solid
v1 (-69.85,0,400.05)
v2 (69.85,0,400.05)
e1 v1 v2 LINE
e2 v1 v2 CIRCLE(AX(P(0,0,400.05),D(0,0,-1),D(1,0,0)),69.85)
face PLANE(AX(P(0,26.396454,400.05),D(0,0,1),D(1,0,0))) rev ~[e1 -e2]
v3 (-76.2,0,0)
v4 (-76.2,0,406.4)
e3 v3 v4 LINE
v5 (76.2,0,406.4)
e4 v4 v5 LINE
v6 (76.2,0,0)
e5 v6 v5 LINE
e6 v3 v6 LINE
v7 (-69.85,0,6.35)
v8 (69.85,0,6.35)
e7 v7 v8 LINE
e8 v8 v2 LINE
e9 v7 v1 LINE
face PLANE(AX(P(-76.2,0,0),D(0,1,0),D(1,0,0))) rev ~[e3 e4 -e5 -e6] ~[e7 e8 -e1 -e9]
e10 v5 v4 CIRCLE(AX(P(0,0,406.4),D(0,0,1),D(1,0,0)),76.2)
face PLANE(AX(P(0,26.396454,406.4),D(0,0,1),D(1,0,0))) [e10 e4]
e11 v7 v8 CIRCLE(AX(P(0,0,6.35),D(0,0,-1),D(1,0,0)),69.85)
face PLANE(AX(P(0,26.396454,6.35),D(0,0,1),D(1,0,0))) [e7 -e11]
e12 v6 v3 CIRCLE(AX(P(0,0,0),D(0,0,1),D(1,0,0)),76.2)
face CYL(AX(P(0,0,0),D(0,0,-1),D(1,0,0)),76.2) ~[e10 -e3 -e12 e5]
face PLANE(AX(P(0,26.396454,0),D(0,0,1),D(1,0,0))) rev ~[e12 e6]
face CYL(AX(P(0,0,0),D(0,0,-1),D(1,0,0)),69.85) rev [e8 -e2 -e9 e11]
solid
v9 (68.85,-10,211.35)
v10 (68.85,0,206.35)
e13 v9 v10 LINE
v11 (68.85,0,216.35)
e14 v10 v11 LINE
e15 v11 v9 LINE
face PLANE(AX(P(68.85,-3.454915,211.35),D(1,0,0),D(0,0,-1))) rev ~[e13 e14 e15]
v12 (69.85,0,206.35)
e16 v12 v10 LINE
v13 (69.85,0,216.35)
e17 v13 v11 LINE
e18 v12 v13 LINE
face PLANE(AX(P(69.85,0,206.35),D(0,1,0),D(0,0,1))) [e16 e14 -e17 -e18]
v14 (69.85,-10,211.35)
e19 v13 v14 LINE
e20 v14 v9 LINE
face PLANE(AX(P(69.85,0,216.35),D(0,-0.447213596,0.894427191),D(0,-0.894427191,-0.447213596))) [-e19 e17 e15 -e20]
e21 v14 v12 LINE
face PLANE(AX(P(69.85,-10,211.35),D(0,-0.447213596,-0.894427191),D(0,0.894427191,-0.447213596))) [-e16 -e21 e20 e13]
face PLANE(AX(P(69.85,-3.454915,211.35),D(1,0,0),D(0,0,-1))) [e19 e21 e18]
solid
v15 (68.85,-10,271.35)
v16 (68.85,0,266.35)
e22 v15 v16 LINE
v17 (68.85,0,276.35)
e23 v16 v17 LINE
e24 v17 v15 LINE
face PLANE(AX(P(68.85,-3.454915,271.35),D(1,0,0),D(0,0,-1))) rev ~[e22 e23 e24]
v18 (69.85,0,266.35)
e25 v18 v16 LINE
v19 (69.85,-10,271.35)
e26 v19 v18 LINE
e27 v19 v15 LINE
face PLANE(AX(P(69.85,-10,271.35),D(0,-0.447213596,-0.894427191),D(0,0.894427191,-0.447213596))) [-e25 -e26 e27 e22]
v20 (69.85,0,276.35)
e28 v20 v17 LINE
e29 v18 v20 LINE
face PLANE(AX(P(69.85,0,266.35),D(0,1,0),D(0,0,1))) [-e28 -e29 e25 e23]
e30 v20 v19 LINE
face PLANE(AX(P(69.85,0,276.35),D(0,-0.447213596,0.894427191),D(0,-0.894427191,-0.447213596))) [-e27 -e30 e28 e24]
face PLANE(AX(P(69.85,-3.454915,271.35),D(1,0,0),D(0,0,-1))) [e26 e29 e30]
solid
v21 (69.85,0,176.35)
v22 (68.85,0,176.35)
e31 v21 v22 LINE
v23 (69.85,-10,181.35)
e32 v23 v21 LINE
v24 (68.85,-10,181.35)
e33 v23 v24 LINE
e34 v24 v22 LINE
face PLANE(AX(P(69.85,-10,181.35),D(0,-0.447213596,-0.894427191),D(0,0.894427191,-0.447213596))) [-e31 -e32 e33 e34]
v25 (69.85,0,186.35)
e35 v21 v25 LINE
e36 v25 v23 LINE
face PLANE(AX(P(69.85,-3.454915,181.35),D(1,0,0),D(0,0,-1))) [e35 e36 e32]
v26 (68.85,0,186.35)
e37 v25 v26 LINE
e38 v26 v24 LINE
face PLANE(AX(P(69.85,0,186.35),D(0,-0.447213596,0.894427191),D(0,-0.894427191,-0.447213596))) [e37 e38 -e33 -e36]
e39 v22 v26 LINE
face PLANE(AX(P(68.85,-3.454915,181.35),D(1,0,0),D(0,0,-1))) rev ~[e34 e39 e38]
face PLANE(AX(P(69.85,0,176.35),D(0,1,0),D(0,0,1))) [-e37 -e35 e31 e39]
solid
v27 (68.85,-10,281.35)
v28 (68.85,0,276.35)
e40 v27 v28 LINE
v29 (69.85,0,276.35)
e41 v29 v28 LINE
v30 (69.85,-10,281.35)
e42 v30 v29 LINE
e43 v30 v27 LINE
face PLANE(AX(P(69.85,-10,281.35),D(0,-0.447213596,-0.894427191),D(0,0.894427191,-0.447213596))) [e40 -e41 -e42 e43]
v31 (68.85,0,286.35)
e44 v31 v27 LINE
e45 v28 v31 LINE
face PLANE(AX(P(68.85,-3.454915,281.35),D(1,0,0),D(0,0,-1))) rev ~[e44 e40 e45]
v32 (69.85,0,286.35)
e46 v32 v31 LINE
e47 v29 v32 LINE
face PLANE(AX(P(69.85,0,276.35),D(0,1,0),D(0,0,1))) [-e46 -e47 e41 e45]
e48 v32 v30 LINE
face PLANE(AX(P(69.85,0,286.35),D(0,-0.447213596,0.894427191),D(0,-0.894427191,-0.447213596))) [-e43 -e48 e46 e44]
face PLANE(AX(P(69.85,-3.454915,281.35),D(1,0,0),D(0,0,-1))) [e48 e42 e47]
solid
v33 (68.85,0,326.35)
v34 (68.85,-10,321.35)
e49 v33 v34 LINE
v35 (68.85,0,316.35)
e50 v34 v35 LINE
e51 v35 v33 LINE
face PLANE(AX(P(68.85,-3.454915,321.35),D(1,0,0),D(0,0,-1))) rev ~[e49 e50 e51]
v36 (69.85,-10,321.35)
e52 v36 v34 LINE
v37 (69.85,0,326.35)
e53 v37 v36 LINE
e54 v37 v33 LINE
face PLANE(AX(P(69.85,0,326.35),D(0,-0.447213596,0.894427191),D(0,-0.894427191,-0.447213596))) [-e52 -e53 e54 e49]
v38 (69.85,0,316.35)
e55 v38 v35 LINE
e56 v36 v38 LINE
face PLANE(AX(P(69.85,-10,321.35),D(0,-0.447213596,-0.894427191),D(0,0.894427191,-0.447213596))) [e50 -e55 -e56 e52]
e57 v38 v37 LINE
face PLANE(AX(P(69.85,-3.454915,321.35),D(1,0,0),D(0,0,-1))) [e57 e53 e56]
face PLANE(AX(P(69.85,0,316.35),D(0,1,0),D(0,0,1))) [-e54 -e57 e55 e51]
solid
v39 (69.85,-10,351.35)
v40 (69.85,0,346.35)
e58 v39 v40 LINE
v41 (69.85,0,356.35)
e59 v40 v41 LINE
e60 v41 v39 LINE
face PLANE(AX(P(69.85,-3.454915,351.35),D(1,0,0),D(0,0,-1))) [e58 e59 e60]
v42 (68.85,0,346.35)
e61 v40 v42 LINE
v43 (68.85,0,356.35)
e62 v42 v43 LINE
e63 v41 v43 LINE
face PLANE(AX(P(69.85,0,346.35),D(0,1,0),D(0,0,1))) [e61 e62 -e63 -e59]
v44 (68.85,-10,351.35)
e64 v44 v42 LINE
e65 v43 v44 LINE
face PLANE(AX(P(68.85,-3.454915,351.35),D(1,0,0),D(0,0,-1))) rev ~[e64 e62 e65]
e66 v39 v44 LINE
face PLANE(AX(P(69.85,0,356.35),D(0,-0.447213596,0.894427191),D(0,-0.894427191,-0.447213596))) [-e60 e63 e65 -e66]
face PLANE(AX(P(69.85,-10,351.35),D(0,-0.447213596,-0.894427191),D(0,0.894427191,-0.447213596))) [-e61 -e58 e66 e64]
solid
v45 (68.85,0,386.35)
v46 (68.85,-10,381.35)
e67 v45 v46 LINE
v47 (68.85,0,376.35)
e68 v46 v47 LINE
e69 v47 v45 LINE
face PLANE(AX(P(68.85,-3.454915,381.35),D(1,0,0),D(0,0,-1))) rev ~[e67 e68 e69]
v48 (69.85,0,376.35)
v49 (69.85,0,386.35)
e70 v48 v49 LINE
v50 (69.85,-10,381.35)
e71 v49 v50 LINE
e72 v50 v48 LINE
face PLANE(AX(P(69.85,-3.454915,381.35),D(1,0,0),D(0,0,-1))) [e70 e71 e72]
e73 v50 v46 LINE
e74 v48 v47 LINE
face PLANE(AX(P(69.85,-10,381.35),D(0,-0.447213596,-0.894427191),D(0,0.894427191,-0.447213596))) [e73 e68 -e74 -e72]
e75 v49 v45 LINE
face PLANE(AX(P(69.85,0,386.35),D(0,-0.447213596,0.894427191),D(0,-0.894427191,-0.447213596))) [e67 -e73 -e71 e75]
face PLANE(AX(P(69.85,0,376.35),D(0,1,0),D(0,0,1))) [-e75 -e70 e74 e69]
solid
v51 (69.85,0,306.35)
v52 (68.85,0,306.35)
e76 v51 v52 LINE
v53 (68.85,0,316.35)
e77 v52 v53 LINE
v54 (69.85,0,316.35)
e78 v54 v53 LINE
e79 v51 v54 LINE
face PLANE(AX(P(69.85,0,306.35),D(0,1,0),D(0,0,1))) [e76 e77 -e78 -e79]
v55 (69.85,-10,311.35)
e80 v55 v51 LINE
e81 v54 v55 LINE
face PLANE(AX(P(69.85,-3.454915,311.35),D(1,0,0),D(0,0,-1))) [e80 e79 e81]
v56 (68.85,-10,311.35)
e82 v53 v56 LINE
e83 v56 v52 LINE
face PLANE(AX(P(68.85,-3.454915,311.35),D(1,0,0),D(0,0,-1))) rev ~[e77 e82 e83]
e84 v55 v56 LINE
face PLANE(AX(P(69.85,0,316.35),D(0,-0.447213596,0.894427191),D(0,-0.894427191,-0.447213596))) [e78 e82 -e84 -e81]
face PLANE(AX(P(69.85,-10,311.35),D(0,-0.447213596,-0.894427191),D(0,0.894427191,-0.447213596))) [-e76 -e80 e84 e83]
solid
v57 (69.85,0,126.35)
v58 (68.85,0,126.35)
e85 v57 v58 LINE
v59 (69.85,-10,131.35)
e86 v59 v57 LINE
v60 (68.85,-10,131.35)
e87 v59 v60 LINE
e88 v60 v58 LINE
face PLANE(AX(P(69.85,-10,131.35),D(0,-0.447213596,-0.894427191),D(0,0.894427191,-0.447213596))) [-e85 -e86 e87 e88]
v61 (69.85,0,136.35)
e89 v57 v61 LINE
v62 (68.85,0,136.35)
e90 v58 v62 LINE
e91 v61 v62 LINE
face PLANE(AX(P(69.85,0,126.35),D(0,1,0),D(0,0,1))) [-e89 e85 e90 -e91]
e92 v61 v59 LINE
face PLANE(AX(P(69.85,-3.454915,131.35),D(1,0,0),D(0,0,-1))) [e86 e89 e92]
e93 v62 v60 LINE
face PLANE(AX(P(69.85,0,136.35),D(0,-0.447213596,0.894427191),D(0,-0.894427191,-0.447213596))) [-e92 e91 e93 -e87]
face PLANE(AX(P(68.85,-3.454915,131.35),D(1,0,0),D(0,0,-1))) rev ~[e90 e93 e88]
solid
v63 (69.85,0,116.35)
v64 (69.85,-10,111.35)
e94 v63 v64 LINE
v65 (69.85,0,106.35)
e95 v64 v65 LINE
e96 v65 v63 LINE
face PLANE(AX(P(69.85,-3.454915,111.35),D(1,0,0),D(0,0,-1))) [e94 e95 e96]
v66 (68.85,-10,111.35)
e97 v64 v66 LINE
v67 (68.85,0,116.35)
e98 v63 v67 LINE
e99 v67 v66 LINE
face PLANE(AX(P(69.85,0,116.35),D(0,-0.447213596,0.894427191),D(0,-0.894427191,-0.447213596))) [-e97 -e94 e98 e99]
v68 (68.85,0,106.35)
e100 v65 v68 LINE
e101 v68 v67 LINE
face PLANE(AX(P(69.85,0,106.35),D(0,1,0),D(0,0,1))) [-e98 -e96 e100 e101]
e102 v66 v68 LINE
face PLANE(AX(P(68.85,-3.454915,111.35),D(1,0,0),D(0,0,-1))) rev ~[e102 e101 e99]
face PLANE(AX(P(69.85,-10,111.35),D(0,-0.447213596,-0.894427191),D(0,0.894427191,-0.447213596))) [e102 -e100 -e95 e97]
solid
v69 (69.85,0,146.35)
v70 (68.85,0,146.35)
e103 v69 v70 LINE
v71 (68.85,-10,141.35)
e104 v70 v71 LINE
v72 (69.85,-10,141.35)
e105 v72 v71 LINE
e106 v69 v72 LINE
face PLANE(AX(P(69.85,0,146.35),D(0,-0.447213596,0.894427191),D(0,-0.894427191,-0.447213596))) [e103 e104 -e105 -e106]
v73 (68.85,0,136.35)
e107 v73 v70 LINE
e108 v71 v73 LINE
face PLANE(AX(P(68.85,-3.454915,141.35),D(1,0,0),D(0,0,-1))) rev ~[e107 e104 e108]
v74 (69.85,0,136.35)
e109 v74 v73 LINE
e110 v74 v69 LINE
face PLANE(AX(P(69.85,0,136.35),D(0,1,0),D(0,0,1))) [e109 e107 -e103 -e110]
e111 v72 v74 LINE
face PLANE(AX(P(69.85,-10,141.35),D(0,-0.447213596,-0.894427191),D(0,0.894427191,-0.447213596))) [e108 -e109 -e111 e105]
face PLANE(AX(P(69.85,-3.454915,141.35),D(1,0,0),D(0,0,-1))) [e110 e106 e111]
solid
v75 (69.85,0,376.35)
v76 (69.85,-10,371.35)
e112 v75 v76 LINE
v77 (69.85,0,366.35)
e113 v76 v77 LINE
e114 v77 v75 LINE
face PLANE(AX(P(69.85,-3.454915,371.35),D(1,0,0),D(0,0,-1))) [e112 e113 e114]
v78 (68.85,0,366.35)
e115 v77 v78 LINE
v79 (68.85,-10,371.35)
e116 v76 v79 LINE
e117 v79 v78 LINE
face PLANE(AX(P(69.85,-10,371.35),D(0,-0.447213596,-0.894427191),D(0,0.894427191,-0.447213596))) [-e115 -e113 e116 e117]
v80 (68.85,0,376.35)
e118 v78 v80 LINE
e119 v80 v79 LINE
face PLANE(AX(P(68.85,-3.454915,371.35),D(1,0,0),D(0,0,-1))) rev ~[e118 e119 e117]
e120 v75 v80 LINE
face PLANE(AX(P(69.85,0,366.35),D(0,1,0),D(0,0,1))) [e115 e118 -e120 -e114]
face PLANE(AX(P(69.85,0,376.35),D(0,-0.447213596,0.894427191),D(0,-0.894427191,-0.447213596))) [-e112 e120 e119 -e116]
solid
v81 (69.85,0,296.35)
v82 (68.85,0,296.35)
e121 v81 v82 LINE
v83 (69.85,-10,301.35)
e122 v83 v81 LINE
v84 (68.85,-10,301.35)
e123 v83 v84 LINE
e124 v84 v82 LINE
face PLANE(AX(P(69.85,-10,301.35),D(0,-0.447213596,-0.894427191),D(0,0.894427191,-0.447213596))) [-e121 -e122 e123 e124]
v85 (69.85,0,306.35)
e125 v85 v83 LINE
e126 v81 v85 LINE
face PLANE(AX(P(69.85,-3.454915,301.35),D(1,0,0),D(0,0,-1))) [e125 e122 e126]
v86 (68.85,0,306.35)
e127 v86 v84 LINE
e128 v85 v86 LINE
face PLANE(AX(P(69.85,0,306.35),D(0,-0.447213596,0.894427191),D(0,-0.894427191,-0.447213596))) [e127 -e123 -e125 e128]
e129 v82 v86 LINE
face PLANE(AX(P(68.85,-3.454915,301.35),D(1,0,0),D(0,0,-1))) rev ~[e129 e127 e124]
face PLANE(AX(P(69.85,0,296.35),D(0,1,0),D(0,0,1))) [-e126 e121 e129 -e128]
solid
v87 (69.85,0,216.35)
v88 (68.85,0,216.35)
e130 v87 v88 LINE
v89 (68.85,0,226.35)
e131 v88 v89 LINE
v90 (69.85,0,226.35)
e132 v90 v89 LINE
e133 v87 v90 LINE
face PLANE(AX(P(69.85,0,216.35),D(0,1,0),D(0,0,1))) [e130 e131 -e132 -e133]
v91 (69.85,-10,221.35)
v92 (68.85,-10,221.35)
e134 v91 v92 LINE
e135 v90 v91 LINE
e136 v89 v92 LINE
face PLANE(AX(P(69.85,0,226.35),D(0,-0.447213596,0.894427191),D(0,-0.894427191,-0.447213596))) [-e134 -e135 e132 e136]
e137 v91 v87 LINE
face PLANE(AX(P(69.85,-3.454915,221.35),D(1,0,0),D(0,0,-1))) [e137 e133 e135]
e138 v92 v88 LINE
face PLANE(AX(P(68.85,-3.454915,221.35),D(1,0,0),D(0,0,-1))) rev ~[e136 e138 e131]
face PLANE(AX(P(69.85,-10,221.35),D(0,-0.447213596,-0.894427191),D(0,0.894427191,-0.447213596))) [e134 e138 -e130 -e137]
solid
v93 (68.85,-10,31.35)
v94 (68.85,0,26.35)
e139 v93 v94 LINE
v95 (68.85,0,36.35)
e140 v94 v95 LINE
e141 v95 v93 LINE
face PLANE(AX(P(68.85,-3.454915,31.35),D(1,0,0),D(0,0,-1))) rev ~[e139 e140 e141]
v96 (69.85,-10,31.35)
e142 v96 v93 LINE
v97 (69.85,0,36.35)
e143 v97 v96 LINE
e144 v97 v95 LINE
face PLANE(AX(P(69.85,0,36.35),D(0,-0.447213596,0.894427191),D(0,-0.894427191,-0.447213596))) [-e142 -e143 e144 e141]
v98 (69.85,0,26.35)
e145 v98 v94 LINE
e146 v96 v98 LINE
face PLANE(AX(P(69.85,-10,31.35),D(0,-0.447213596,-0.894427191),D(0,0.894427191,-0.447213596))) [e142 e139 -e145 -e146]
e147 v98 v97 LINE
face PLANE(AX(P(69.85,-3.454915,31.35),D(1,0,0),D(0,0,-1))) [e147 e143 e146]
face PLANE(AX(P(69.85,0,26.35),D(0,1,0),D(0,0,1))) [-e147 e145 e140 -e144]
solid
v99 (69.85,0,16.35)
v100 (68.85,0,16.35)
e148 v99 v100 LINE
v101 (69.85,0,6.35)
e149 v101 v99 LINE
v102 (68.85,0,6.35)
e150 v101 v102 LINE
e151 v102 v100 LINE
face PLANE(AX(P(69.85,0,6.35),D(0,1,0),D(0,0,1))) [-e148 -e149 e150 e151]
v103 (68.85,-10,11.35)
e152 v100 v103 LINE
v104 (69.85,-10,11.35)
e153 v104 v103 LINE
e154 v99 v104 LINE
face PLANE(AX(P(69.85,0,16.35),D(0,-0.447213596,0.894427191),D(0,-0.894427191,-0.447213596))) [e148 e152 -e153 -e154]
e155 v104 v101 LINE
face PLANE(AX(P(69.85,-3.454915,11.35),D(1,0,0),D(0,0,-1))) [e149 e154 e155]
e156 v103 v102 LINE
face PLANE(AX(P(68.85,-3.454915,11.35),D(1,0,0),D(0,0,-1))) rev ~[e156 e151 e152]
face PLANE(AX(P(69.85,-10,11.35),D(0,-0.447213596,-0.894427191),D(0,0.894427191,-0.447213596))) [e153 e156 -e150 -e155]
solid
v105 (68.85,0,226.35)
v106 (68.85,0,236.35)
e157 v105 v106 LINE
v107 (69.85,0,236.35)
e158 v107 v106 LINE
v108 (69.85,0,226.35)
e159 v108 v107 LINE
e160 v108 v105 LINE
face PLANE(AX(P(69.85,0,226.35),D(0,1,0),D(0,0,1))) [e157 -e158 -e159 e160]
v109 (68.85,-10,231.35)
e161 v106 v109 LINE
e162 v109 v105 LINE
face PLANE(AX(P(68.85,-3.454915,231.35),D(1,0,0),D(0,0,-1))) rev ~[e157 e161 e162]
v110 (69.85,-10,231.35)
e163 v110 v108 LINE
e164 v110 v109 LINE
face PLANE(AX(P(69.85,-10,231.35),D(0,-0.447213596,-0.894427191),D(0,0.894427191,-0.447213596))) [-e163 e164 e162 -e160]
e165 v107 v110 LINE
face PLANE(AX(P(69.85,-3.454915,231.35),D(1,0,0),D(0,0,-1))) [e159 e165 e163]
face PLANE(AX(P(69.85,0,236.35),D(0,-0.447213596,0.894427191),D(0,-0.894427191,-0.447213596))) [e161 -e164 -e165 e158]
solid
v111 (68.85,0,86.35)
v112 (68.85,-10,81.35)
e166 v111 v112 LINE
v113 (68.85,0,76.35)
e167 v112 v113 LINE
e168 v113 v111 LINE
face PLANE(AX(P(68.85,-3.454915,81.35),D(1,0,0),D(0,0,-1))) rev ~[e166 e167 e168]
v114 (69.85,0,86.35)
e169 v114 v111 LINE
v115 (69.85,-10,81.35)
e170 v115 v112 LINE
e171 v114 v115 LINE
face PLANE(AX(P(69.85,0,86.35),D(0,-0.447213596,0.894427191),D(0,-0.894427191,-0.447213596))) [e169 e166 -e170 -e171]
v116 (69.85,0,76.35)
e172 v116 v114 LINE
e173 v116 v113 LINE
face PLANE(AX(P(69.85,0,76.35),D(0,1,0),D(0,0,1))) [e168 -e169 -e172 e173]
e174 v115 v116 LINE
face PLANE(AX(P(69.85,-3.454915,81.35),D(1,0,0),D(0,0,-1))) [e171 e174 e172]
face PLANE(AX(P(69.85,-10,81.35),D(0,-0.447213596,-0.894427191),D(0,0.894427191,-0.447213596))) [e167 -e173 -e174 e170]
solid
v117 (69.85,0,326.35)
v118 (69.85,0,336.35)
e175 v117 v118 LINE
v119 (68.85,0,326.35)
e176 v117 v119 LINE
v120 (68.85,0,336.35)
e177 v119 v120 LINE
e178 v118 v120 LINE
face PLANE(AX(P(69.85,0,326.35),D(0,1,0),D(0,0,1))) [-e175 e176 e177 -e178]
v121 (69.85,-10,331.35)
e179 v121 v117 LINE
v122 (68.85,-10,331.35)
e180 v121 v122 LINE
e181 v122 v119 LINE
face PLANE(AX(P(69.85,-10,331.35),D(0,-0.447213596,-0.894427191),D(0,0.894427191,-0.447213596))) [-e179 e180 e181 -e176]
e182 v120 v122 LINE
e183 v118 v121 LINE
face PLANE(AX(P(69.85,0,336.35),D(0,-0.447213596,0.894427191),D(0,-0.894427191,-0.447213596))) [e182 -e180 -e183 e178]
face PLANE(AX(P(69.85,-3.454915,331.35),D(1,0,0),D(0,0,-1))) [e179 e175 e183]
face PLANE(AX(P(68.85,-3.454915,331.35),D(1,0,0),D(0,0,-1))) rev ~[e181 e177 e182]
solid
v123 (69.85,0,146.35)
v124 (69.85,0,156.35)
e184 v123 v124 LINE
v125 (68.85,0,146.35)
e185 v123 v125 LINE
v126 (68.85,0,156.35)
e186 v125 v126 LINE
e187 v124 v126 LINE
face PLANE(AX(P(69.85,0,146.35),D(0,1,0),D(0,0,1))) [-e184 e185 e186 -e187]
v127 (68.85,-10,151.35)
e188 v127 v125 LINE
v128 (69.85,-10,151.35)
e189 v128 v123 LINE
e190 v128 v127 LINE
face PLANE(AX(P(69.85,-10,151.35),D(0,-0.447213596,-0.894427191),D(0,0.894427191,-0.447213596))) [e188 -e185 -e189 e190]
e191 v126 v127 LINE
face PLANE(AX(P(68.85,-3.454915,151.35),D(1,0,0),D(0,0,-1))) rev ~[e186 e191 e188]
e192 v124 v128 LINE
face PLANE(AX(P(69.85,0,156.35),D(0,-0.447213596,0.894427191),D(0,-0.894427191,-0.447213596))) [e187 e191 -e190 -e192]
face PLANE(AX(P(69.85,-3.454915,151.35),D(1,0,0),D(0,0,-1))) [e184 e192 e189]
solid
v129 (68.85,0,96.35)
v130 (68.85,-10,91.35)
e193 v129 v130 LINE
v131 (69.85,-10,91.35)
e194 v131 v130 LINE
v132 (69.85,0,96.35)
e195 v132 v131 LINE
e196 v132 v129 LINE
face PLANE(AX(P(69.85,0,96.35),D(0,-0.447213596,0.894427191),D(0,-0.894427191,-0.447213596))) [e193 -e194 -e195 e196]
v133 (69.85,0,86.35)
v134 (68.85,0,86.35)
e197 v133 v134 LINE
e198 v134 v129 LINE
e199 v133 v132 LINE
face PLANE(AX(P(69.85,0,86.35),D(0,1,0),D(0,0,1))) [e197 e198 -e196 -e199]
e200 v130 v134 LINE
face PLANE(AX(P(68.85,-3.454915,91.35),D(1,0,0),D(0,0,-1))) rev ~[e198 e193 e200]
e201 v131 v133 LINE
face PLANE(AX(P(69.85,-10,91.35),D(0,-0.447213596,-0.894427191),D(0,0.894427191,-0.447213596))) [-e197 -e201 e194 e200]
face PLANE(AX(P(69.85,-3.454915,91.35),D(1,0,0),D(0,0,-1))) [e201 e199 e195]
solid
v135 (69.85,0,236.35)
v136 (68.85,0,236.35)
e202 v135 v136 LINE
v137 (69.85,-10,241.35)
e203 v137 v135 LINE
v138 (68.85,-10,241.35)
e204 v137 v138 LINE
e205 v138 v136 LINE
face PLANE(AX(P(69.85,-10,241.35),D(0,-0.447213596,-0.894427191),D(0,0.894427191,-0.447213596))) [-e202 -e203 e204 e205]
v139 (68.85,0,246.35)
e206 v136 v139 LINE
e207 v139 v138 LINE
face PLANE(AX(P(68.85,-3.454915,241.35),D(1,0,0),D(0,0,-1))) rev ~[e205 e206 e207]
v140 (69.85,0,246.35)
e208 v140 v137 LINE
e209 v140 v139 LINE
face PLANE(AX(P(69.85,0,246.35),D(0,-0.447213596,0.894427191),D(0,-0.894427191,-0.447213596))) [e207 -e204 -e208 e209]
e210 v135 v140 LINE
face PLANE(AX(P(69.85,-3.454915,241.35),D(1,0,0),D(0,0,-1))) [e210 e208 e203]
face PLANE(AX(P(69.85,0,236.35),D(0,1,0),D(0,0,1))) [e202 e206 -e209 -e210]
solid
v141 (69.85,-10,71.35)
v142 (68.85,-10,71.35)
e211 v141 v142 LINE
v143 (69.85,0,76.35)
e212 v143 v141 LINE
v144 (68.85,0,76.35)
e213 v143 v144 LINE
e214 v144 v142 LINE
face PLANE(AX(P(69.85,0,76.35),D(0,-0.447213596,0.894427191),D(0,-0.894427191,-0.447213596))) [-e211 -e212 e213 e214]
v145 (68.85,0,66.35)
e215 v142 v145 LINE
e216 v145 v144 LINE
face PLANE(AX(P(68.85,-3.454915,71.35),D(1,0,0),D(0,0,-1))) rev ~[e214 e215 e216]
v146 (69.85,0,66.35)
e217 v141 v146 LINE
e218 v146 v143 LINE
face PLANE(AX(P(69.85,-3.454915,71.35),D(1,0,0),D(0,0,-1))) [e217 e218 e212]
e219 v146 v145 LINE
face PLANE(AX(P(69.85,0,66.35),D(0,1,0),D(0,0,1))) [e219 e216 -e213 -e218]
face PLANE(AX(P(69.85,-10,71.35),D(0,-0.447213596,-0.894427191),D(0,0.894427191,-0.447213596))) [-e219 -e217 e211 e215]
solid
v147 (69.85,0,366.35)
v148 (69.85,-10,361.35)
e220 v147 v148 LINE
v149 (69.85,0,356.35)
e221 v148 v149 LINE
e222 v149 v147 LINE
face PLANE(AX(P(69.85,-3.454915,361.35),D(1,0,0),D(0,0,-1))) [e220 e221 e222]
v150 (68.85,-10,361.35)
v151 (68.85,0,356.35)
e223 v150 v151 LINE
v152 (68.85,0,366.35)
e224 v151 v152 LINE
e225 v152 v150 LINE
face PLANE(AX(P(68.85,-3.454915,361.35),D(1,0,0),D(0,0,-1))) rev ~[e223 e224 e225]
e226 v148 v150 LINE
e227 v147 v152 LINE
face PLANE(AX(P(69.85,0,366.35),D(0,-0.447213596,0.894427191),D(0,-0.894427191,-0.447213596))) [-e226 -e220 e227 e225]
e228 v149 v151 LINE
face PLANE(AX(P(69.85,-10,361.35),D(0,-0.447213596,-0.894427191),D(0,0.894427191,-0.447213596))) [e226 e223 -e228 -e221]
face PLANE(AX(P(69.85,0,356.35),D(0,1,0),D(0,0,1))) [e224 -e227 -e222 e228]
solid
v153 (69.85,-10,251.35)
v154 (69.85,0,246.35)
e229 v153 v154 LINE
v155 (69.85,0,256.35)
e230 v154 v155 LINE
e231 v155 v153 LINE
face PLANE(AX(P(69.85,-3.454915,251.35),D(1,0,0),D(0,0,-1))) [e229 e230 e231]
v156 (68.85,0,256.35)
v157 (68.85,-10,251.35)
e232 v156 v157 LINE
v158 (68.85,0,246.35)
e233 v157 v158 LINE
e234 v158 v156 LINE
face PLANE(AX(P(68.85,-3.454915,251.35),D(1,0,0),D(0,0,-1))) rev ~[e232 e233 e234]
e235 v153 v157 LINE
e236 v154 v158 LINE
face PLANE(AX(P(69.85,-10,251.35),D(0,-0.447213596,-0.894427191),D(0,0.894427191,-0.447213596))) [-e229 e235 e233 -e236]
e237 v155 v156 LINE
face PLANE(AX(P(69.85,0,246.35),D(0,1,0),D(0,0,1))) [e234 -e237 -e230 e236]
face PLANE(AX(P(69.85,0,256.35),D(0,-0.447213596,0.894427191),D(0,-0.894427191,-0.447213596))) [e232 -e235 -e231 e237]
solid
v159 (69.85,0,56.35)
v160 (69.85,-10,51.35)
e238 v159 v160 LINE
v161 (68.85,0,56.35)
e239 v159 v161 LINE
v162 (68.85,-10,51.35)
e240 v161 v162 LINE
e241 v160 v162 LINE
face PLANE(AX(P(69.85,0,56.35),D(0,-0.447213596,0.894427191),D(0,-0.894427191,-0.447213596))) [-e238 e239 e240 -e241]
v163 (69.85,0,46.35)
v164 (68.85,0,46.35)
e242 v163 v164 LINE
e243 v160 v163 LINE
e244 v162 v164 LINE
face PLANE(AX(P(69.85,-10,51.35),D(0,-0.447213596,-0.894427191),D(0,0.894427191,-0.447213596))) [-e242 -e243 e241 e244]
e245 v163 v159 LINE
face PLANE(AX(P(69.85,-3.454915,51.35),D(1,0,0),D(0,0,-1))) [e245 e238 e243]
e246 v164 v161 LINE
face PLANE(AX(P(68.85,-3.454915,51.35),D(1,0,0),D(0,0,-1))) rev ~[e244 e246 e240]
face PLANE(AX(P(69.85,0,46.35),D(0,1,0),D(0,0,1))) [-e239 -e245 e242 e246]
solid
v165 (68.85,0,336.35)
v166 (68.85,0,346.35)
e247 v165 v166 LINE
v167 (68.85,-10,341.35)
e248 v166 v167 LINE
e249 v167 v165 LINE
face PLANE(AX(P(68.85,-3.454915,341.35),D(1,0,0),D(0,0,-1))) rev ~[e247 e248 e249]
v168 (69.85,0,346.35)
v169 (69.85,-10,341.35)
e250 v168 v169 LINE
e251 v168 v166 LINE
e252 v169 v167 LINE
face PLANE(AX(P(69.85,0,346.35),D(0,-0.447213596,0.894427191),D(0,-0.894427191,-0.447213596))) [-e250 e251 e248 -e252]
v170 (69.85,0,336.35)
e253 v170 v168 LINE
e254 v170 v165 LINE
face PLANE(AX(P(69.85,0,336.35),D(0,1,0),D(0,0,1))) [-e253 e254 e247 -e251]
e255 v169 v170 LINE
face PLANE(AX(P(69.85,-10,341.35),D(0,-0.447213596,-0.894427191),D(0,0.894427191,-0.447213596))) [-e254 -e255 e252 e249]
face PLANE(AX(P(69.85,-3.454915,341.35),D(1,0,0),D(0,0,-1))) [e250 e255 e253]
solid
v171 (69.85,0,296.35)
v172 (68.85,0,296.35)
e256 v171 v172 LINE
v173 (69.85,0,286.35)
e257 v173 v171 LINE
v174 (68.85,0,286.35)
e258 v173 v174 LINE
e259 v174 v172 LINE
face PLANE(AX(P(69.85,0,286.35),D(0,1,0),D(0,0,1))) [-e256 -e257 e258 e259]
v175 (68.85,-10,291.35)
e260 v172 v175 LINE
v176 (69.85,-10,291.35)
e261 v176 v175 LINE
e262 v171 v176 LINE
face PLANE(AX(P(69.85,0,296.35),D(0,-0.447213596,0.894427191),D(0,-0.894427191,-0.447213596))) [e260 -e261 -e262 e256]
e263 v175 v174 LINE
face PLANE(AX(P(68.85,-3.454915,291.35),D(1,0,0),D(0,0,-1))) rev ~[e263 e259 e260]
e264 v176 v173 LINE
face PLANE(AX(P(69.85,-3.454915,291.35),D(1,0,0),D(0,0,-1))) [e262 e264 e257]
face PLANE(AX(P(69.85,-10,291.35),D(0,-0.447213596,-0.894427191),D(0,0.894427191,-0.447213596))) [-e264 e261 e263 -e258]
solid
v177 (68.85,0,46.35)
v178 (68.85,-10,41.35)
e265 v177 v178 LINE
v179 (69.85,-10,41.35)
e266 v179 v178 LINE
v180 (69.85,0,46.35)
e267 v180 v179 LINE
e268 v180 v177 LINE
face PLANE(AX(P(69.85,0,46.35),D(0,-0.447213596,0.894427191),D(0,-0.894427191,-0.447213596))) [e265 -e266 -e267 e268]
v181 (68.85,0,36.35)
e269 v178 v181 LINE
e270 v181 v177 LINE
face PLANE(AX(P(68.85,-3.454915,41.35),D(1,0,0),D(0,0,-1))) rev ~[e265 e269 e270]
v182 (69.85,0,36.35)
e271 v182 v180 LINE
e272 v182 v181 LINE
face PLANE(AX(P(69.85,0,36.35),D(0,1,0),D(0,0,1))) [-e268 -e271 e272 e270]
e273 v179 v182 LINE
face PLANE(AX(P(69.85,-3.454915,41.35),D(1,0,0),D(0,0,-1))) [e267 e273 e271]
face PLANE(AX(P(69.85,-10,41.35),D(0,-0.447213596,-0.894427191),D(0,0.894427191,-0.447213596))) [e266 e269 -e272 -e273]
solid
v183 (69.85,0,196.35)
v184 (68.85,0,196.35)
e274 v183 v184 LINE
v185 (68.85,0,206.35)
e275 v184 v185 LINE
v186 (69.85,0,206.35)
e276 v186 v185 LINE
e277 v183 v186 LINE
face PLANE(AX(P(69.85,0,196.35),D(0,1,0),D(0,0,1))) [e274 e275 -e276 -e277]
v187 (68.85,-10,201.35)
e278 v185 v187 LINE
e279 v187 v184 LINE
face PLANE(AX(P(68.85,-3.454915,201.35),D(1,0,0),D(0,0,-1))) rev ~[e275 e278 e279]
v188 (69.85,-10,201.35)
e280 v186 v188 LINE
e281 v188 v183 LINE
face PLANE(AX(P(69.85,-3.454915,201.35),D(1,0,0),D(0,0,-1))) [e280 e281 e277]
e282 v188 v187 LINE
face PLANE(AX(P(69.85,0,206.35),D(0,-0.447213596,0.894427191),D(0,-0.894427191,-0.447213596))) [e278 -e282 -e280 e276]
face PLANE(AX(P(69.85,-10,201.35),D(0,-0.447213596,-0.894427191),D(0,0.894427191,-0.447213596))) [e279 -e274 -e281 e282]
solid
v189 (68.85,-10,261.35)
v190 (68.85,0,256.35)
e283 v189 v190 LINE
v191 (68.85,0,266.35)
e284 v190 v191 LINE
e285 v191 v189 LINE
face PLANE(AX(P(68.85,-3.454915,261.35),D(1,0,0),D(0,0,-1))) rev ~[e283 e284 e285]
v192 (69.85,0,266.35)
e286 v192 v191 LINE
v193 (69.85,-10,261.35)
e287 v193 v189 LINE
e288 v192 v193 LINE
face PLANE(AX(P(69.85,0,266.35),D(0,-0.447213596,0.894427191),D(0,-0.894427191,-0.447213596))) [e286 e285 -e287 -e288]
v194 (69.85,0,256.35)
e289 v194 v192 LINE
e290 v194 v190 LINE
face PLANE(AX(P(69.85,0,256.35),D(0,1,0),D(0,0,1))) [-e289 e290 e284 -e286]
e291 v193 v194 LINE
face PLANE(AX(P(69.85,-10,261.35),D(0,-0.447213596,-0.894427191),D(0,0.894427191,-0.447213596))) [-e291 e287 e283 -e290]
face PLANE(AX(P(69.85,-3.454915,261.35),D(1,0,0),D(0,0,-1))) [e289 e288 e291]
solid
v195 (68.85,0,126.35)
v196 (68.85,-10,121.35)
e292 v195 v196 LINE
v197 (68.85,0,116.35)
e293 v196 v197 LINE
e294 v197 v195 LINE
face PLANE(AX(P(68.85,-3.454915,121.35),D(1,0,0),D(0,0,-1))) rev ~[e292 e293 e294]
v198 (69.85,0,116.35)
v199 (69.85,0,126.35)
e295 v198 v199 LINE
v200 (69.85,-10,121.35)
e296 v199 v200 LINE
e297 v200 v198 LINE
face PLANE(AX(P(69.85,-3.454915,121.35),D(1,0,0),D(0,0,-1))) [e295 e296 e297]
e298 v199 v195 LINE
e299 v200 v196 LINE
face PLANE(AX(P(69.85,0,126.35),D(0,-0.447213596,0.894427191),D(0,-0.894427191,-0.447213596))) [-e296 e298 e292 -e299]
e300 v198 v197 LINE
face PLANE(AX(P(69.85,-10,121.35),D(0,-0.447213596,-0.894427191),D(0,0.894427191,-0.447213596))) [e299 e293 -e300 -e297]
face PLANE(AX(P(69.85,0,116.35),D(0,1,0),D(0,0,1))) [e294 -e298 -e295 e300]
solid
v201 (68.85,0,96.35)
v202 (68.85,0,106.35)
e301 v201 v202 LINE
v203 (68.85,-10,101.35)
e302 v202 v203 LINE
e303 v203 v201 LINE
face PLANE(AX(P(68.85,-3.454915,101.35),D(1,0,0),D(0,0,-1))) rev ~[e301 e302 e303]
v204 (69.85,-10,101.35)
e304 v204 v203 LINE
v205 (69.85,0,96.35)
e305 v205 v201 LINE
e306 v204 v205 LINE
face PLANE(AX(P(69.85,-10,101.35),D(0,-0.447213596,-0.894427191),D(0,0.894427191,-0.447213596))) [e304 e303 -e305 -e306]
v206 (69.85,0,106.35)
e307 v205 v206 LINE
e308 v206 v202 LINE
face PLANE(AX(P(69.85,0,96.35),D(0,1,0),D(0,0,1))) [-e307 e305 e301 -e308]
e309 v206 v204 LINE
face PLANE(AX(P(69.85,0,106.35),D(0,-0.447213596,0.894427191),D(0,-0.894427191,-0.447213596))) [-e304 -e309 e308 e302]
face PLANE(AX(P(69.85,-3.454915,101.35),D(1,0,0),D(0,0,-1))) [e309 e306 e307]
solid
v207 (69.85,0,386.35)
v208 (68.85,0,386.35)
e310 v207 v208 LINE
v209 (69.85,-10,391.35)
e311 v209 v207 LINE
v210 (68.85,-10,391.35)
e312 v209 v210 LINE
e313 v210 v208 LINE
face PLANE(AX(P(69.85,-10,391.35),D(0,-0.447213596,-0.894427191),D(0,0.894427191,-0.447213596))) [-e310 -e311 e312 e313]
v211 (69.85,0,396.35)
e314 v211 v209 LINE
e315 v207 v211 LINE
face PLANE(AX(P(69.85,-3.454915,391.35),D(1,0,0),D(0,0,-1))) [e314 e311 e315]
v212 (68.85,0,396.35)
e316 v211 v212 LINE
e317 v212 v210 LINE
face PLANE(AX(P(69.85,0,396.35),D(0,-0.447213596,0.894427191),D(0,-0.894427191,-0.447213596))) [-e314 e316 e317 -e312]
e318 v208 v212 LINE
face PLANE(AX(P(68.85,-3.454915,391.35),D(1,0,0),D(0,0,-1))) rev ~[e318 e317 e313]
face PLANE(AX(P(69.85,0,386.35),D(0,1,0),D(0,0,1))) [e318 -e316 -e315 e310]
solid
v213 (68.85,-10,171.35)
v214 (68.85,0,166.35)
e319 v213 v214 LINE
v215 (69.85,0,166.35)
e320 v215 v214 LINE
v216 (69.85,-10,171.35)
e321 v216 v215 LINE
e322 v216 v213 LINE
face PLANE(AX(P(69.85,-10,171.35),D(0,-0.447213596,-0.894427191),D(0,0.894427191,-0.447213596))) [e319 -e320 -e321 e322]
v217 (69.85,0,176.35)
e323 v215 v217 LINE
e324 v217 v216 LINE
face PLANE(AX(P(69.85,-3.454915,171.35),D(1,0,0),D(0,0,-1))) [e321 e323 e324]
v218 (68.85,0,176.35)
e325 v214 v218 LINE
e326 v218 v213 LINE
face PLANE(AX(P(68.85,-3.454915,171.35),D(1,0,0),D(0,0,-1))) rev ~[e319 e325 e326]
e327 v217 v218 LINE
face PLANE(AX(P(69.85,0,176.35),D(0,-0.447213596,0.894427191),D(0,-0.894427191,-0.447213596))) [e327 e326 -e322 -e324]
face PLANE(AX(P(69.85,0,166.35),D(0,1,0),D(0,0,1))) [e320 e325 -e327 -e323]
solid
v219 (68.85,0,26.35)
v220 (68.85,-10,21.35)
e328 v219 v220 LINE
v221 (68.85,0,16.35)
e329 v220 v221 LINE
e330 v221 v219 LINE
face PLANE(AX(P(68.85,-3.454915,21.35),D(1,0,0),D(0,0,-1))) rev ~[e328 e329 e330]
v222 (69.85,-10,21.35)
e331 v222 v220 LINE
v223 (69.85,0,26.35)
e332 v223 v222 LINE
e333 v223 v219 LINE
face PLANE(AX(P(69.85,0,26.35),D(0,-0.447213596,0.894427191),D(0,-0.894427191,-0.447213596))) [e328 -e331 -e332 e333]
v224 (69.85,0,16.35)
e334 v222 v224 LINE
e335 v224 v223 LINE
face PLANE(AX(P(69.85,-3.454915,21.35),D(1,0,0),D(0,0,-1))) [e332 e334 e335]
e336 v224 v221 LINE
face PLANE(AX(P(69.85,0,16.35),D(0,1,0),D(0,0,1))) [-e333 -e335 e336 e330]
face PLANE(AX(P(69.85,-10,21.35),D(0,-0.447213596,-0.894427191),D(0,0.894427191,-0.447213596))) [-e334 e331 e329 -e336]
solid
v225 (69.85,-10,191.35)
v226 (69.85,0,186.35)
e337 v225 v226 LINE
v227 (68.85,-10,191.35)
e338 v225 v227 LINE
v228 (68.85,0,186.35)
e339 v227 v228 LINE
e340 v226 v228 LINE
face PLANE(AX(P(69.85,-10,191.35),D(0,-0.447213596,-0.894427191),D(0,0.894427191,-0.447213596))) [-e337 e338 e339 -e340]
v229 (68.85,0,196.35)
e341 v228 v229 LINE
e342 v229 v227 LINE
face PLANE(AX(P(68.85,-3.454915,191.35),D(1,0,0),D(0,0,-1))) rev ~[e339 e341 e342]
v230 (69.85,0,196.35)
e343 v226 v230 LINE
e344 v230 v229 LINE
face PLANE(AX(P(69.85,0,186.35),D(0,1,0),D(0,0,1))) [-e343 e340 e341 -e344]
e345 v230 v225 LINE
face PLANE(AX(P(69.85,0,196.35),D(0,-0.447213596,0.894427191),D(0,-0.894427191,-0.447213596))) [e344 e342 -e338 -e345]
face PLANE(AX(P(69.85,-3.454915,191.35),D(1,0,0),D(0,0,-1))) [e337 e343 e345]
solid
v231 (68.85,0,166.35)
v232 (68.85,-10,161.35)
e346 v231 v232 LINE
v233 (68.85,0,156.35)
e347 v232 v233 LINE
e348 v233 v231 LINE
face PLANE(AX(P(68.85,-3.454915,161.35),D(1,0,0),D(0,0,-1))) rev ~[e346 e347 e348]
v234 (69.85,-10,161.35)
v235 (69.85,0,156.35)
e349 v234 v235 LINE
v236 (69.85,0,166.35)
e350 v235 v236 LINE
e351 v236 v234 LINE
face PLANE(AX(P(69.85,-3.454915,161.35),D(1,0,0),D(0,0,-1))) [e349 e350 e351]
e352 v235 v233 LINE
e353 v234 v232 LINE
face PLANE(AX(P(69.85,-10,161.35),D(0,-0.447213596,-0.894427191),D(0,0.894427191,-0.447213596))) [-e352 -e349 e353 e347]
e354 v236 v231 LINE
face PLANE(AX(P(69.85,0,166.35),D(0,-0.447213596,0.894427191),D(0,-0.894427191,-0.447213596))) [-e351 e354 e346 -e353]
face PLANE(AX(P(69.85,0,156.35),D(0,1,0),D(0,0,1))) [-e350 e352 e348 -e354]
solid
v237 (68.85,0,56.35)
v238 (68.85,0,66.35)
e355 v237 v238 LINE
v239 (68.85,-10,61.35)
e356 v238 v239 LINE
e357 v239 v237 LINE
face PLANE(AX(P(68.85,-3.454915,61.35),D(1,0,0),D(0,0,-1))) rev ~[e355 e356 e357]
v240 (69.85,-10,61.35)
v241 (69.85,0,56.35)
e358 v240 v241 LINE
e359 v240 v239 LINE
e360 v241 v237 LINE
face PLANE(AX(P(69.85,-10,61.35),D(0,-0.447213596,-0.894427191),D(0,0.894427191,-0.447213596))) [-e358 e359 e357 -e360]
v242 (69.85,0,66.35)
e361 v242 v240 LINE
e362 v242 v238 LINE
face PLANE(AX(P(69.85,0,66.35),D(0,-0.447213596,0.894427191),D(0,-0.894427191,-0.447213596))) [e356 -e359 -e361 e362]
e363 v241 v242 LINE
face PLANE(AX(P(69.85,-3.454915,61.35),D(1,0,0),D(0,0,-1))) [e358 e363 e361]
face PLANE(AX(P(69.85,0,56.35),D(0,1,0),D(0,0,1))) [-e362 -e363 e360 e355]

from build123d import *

# Parameters (mm, degrees)
BOSS_EXTRUDE1_DEPTH    = 406.4
SHELL1_T               = -6.35
BOSS_EXTRUDE2_DEPTH    = 1
BOSS_EXTRUDE2_2_DEPTH  = 1
BOSS_EXTRUDE2_3_DEPTH  = 1
BOSS_EXTRUDE2_4_DEPTH  = 1
BOSS_EXTRUDE2_5_DEPTH  = 1
BOSS_EXTRUDE2_6_DEPTH  = 1
BOSS_EXTRUDE2_7_DEPTH  = 1
BOSS_EXTRUDE2_8_DEPTH  = 1
BOSS_EXTRUDE2_9_DEPTH  = 1
BOSS_EXTRUDE2_10_DEPTH = 1
BOSS_EXTRUDE2_11_DEPTH = 1
BOSS_EXTRUDE2_12_DEPTH = 1
BOSS_EXTRUDE2_13_DEPTH = 1
BOSS_EXTRUDE2_14_DEPTH = 1
BOSS_EXTRUDE2_15_DEPTH = 1
BOSS_EXTRUDE2_16_DEPTH = 1
BOSS_EXTRUDE2_17_DEPTH = 1
BOSS_EXTRUDE2_18_DEPTH = 1
BOSS_EXTRUDE2_19_DEPTH = 1
BOSS_EXTRUDE2_20_DEPTH = 1
BOSS_EXTRUDE2_21_DEPTH = 1
BOSS_EXTRUDE2_22_DEPTH = 1
BOSS_EXTRUDE2_23_DEPTH = 1
BOSS_EXTRUDE2_24_DEPTH = 1
BOSS_EXTRUDE2_25_DEPTH = 1
BOSS_EXTRUDE2_26_DEPTH = 1
BOSS_EXTRUDE2_27_DEPTH = 1
BOSS_EXTRUDE2_28_DEPTH = 1
BOSS_EXTRUDE2_29_DEPTH = 1
BOSS_EXTRUDE2_30_DEPTH = 1
BOSS_EXTRUDE2_31_DEPTH = 1
BOSS_EXTRUDE2_32_DEPTH = 1
BOSS_EXTRUDE2_33_DEPTH = 1
BOSS_EXTRUDE2_34_DEPTH = 1
BOSS_EXTRUDE2_35_DEPTH = 1
BOSS_EXTRUDE2_36_DEPTH = 1
BOSS_EXTRUDE2_37_DEPTH = 1
BOSS_EXTRUDE2_38_DEPTH = 1
BOSS_EXTRUDE2_39_DEPTH = 1


with BuildPart() as part:
    # Sketch1 → Boss-Extrude1 (new body)
    with BuildSketch(Plane.XY):
        with BuildLine():
            Line((-76.2, 0), (76.2, 0))
            ThreePointArc((76.2, 0), (0, 76.2), (-76.2, 0))
        make_face()
    extrude(amount=BOSS_EXTRUDE1_DEPTH)

    # Shell1
    shell1_openings = [part.faces().sort_by_distance(p)[0] for p in [
        (0, 0, 203.2),
    ]]
    offset(amount=SHELL1_T, openings=shell1_openings)


with BuildPart() as body_2:
    # Sketch3 → Boss-Extrude2 (new body)
    with BuildSketch(Plane(origin=(69.85, 0, 0), x_dir=(0, 0, -1), z_dir=(1, 0, 0))):
        Polygon((-11.35, -10), (-6.35, 0), (-16.35, 0), align=None)
    extrude(amount=-BOSS_EXTRUDE2_DEPTH)


with BuildPart() as body_3:
    # Sketch3 → Boss-Extrude2 2 (new body)
    with BuildSketch(Plane(origin=(69.85, 0, 0), x_dir=(0, 0, -1), z_dir=(1, 0, 0))):
        Polygon((-21.35, -10), (-16.35, 0), (-26.35, 0), align=None)
    extrude(amount=-BOSS_EXTRUDE2_2_DEPTH)


with BuildPart() as body_4:
    # Sketch3 → Boss-Extrude2 3 (new body)
    with BuildSketch(Plane(origin=(69.85, 0, 0), x_dir=(0, 0, -1), z_dir=(1, 0, 0))):
        Polygon((-31.35, -10), (-26.35, 0), (-36.35, 0), align=None)
    extrude(amount=-BOSS_EXTRUDE2_3_DEPTH)


with BuildPart() as body_5:
    # Sketch3 → Boss-Extrude2 4 (new body)
    with BuildSketch(Plane(origin=(69.85, 0, 0), x_dir=(0, 0, -1), z_dir=(1, 0, 0))):
        Polygon((-41.35, -10), (-36.35, 0), (-46.35, 0), align=None)
    extrude(amount=-BOSS_EXTRUDE2_4_DEPTH)


with BuildPart() as body_6:
    # Sketch3 → Boss-Extrude2 5 (new body)
    with BuildSketch(Plane(origin=(69.85, 0, 0), x_dir=(0, 0, -1), z_dir=(1, 0, 0))):
        Polygon((-51.35, -10), (-46.35, 0), (-56.35, 0), align=None)
    extrude(amount=-BOSS_EXTRUDE2_5_DEPTH)


with BuildPart() as body_7:
    # Sketch3 → Boss-Extrude2 6 (new body)
    with BuildSketch(Plane(origin=(69.85, 0, 0), x_dir=(0, 0, -1), z_dir=(1, 0, 0))):
        Polygon((-61.35, -10), (-56.35, 0), (-66.35, 0), align=None)
    extrude(amount=-BOSS_EXTRUDE2_6_DEPTH)


with BuildPart() as body_8:
    # Sketch3 → Boss-Extrude2 7 (new body)
    with BuildSketch(Plane(origin=(69.85, 0, 0), x_dir=(0, 0, -1), z_dir=(1, 0, 0))):
        Polygon((-71.35, -10), (-66.35, 0), (-76.35, 0), align=None)
    extrude(amount=-BOSS_EXTRUDE2_7_DEPTH)


with BuildPart() as body_9:
    # Sketch3 → Boss-Extrude2 8 (new body)
    with BuildSketch(Plane(origin=(69.85, 0, 0), x_dir=(0, 0, -1), z_dir=(1, 0, 0))):
        Polygon((-81.35, -10), (-76.35, 0), (-86.35, 0), align=None)
    extrude(amount=-BOSS_EXTRUDE2_8_DEPTH)


with BuildPart() as body_10:
    # Sketch3 → Boss-Extrude2 9 (new body)
    with BuildSketch(Plane(origin=(69.85, 0, 0), x_dir=(0, 0, -1), z_dir=(1, 0, 0))):
        Polygon((-91.35, -10), (-86.35, 0), (-96.35, 0), align=None)
    extrude(amount=-BOSS_EXTRUDE2_9_DEPTH)


with BuildPart() as body_11:
    # Sketch3 → Boss-Extrude2 10 (new body)
    with BuildSketch(Plane(origin=(69.85, 0, 0), x_dir=(0, 0, -1), z_dir=(1, 0, 0))):
        Polygon((-101.35, -10), (-96.35, 0), (-106.35, 0), align=None)
    extrude(amount=-BOSS_EXTRUDE2_10_DEPTH)


with BuildPart() as body_12:
    # Sketch3 → Boss-Extrude2 11 (new body)
    with BuildSketch(Plane(origin=(69.85, 0, 0), x_dir=(0, 0, -1), z_dir=(1, 0, 0))):
        Polygon((-111.35, -10), (-106.35, 0), (-116.35, 0), align=None)
    extrude(amount=-BOSS_EXTRUDE2_11_DEPTH)


with BuildPart() as body_13:
    # Sketch3 → Boss-Extrude2 12 (new body)
    with BuildSketch(Plane(origin=(69.85, 0, 0), x_dir=(0, 0, -1), z_dir=(1, 0, 0))):
        Polygon((-121.35, -10), (-116.35, 0), (-126.35, 0), align=None)
    extrude(amount=-BOSS_EXTRUDE2_12_DEPTH)


with BuildPart() as body_14:
    # Sketch3 → Boss-Extrude2 13 (new body)
    with BuildSketch(Plane(origin=(69.85, 0, 0), x_dir=(0, 0, -1), z_dir=(1, 0, 0))):
        Polygon((-131.35, -10), (-126.35, 0), (-136.35, 0), align=None)
    extrude(amount=-BOSS_EXTRUDE2_13_DEPTH)


with BuildPart() as body_15:
    # Sketch3 → Boss-Extrude2 14 (new body)
    with BuildSketch(Plane(origin=(69.85, 0, 0), x_dir=(0, 0, -1), z_dir=(1, 0, 0))):
        Polygon((-141.35, -10), (-136.35, 0), (-146.35, 0), align=None)
    extrude(amount=-BOSS_EXTRUDE2_14_DEPTH)


with BuildPart() as body_16:
    # Sketch3 → Boss-Extrude2 15 (new body)
    with BuildSketch(Plane(origin=(69.85, 0, 0), x_dir=(0, 0, -1), z_dir=(1, 0, 0))):
        Polygon((-151.35, -10), (-146.35, 0), (-156.35, 0), align=None)
    extrude(amount=-BOSS_EXTRUDE2_15_DEPTH)


with BuildPart() as body_17:
    # Sketch3 → Boss-Extrude2 16 (new body)
    with BuildSketch(Plane(origin=(69.85, 0, 0), x_dir=(0, 0, -1), z_dir=(1, 0, 0))):
        Polygon((-161.35, -10), (-156.35, 0), (-166.35, 0), align=None)
    extrude(amount=-BOSS_EXTRUDE2_16_DEPTH)


with BuildPart() as body_18:
    # Sketch3 → Boss-Extrude2 17 (new body)
    with BuildSketch(Plane(origin=(69.85, 0, 0), x_dir=(0, 0, -1), z_dir=(1, 0, 0))):
        Polygon((-171.35, -10), (-166.35, 0), (-176.35, 0), align=None)
    extrude(amount=-BOSS_EXTRUDE2_17_DEPTH)


with BuildPart() as body_19:
    # Sketch3 → Boss-Extrude2 18 (new body)
    with BuildSketch(Plane(origin=(69.85, 0, 0), x_dir=(0, 0, -1), z_dir=(1, 0, 0))):
        Polygon((-181.35, -10), (-176.35, 0), (-186.35, 0), align=None)
    extrude(amount=-BOSS_EXTRUDE2_18_DEPTH)


with BuildPart() as body_20:
    # Sketch3 → Boss-Extrude2 19 (new body)
    with BuildSketch(Plane(origin=(69.85, 0, 0), x_dir=(0, 0, -1), z_dir=(1, 0, 0))):
        Polygon((-191.35, -10), (-186.35, 0), (-196.35, 0), align=None)
    extrude(amount=-BOSS_EXTRUDE2_19_DEPTH)


with BuildPart() as body_21:
    # Sketch3 → Boss-Extrude2 20 (new body)
    with BuildSketch(Plane(origin=(69.85, 0, 0), x_dir=(0, 0, -1), z_dir=(1, 0, 0))):
        Polygon((-201.35, -10), (-196.35, 0), (-206.35, 0), align=None)
    extrude(amount=-BOSS_EXTRUDE2_20_DEPTH)


with BuildPart() as body_22:
    # Sketch3 → Boss-Extrude2 21 (new body)
    with BuildSketch(Plane(origin=(69.85, 0, 0), x_dir=(0, 0, -1), z_dir=(1, 0, 0))):
        Polygon((-211.35, -10), (-206.35, 0), (-216.35, 0), align=None)
    extrude(amount=-BOSS_EXTRUDE2_21_DEPTH)


with BuildPart() as body_23:
    # Sketch3 → Boss-Extrude2 22 (new body)
    with BuildSketch(Plane(origin=(69.85, 0, 0), x_dir=(0, 0, -1), z_dir=(1, 0, 0))):
        Polygon((-221.35, -10), (-216.35, 0), (-226.35, 0), align=None)
    extrude(amount=-BOSS_EXTRUDE2_22_DEPTH)


with BuildPart() as body_24:
    # Sketch3 → Boss-Extrude2 23 (new body)
    with BuildSketch(Plane(origin=(69.85, 0, 0), x_dir=(0, 0, -1), z_dir=(1, 0, 0))):
        Polygon((-231.35, -10), (-226.35, 0), (-236.35, 0), align=None)
    extrude(amount=-BOSS_EXTRUDE2_23_DEPTH)


with BuildPart() as body_25:
    # Sketch3 → Boss-Extrude2 24 (new body)
    with BuildSketch(Plane(origin=(69.85, 0, 0), x_dir=(0, 0, -1), z_dir=(1, 0, 0))):
        Polygon((-241.35, -10), (-236.35, 0), (-246.35, 0), align=None)
    extrude(amount=-BOSS_EXTRUDE2_24_DEPTH)


with BuildPart() as body_26:
    # Sketch3 → Boss-Extrude2 25 (new body)
    with BuildSketch(Plane(origin=(69.85, 0, 0), x_dir=(0, 0, -1), z_dir=(1, 0, 0))):
        Polygon((-251.35, -10), (-246.35, 0), (-256.35, 0), align=None)
    extrude(amount=-BOSS_EXTRUDE2_25_DEPTH)


with BuildPart() as body_27:
    # Sketch3 → Boss-Extrude2 26 (new body)
    with BuildSketch(Plane(origin=(69.85, 0, 0), x_dir=(0, 0, -1), z_dir=(1, 0, 0))):
        Polygon((-261.35, -10), (-256.35, 0), (-266.35, 0), align=None)
    extrude(amount=-BOSS_EXTRUDE2_26_DEPTH)


with BuildPart() as body_28:
    # Sketch3 → Boss-Extrude2 27 (new body)
    with BuildSketch(Plane(origin=(69.85, 0, 0), x_dir=(0, 0, -1), z_dir=(1, 0, 0))):
        Polygon((-271.35, -10), (-266.35, 0), (-276.35, 0), align=None)
    extrude(amount=-BOSS_EXTRUDE2_27_DEPTH)


with BuildPart() as body_29:
    # Sketch3 → Boss-Extrude2 28 (new body)
    with BuildSketch(Plane(origin=(69.85, 0, 0), x_dir=(0, 0, -1), z_dir=(1, 0, 0))):
        Polygon((-281.35, -10), (-276.35, 0), (-286.35, 0), align=None)
    extrude(amount=-BOSS_EXTRUDE2_28_DEPTH)


with BuildPart() as body_30:
    # Sketch3 → Boss-Extrude2 29 (new body)
    with BuildSketch(Plane(origin=(69.85, 0, 0), x_dir=(0, 0, -1), z_dir=(1, 0, 0))):
        Polygon((-291.35, -10), (-286.35, 0), (-296.35, 0), align=None)
    extrude(amount=-BOSS_EXTRUDE2_29_DEPTH)


with BuildPart() as body_31:
    # Sketch3 → Boss-Extrude2 30 (new body)
    with BuildSketch(Plane(origin=(69.85, 0, 0), x_dir=(0, 0, -1), z_dir=(1, 0, 0))):
        Polygon((-301.35, -10), (-296.35, 0), (-306.35, 0), align=None)
    extrude(amount=-BOSS_EXTRUDE2_30_DEPTH)


with BuildPart() as body_32:
    # Sketch3 → Boss-Extrude2 31 (new body)
    with BuildSketch(Plane(origin=(69.85, 0, 0), x_dir=(0, 0, -1), z_dir=(1, 0, 0))):
        Polygon((-311.35, -10), (-306.35, 0), (-316.35, 0), align=None)
    extrude(amount=-BOSS_EXTRUDE2_31_DEPTH)


with BuildPart() as body_33:
    # Sketch3 → Boss-Extrude2 32 (new body)
    with BuildSketch(Plane(origin=(69.85, 0, 0), x_dir=(0, 0, -1), z_dir=(1, 0, 0))):
        Polygon((-321.35, -10), (-316.35, 0), (-326.35, 0), align=None)
    extrude(amount=-BOSS_EXTRUDE2_32_DEPTH)


with BuildPart() as body_34:
    # Sketch3 → Boss-Extrude2 33 (new body)
    with BuildSketch(Plane(origin=(69.85, 0, 0), x_dir=(0, 0, -1), z_dir=(1, 0, 0))):
        Polygon((-331.35, -10), (-326.35, 0), (-336.35, 0), align=None)
    extrude(amount=-BOSS_EXTRUDE2_33_DEPTH)


with BuildPart() as body_35:
    # Sketch3 → Boss-Extrude2 34 (new body)
    with BuildSketch(Plane(origin=(69.85, 0, 0), x_dir=(0, 0, -1), z_dir=(1, 0, 0))):
        Polygon((-391.35, -10), (-386.35, 0), (-396.35, 0), align=None)
    extrude(amount=-BOSS_EXTRUDE2_34_DEPTH)


with BuildPart() as body_36:
    # Sketch3 → Boss-Extrude2 35 (new body)
    with BuildSketch(Plane(origin=(69.85, 0, 0), x_dir=(0, 0, -1), z_dir=(1, 0, 0))):
        Polygon((-381.35, -10), (-376.35, 0), (-386.35, 0), align=None)
    extrude(amount=-BOSS_EXTRUDE2_35_DEPTH)


with BuildPart() as body_37:
    # Sketch3 → Boss-Extrude2 36 (new body)
    with BuildSketch(Plane(origin=(69.85, 0, 0), x_dir=(0, 0, -1), z_dir=(1, 0, 0))):
        Polygon((-371.35, -10), (-366.35, 0), (-376.35, 0), align=None)
    extrude(amount=-BOSS_EXTRUDE2_36_DEPTH)


with BuildPart() as body_38:
    # Sketch3 → Boss-Extrude2 37 (new body)
    with BuildSketch(Plane(origin=(69.85, 0, 0), x_dir=(0, 0, -1), z_dir=(1, 0, 0))):
        Polygon((-361.35, -10), (-356.35, 0), (-366.35, 0), align=None)
    extrude(amount=-BOSS_EXTRUDE2_37_DEPTH)


with BuildPart() as body_39:
    # Sketch3 → Boss-Extrude2 38 (new body)
    with BuildSketch(Plane(origin=(69.85, 0, 0), x_dir=(0, 0, -1), z_dir=(1, 0, 0))):
        Polygon((-351.35, -10), (-346.35, 0), (-356.35, 0), align=None)
    extrude(amount=-BOSS_EXTRUDE2_38_DEPTH)


with BuildPart() as body_40:
    # Sketch3 → Boss-Extrude2 39 (new body)
    with BuildSketch(Plane(origin=(69.85, 0, 0), x_dir=(0, 0, -1), z_dir=(1, 0, 0))):
        Polygon((-341.35, -10), (-336.35, 0), (-346.35, 0), align=None)
    extrude(amount=-BOSS_EXTRUDE2_39_DEPTH)


solid = Compound([part.part, body_2.part, body_3.part, body_4.part, body_5.part, body_6.part, body_7.part, body_8.part, body_9.part, body_10.part, body_11.part, body_12.part, body_13.part, body_14.part, body_15.part, body_16.part, body_17.part, body_18.part, body_19.part, body_20.part, body_21.part, body_22.part, body_23.part, body_24.part, body_25.part, body_26.part, body_27.part, body_28.part, body_29.part, body_30.part, body_31.part, body_32.part, body_33.part, body_34.part, body_35.part, body_36.part, body_37.part, body_38.part, body_39.part, body_40.part])
